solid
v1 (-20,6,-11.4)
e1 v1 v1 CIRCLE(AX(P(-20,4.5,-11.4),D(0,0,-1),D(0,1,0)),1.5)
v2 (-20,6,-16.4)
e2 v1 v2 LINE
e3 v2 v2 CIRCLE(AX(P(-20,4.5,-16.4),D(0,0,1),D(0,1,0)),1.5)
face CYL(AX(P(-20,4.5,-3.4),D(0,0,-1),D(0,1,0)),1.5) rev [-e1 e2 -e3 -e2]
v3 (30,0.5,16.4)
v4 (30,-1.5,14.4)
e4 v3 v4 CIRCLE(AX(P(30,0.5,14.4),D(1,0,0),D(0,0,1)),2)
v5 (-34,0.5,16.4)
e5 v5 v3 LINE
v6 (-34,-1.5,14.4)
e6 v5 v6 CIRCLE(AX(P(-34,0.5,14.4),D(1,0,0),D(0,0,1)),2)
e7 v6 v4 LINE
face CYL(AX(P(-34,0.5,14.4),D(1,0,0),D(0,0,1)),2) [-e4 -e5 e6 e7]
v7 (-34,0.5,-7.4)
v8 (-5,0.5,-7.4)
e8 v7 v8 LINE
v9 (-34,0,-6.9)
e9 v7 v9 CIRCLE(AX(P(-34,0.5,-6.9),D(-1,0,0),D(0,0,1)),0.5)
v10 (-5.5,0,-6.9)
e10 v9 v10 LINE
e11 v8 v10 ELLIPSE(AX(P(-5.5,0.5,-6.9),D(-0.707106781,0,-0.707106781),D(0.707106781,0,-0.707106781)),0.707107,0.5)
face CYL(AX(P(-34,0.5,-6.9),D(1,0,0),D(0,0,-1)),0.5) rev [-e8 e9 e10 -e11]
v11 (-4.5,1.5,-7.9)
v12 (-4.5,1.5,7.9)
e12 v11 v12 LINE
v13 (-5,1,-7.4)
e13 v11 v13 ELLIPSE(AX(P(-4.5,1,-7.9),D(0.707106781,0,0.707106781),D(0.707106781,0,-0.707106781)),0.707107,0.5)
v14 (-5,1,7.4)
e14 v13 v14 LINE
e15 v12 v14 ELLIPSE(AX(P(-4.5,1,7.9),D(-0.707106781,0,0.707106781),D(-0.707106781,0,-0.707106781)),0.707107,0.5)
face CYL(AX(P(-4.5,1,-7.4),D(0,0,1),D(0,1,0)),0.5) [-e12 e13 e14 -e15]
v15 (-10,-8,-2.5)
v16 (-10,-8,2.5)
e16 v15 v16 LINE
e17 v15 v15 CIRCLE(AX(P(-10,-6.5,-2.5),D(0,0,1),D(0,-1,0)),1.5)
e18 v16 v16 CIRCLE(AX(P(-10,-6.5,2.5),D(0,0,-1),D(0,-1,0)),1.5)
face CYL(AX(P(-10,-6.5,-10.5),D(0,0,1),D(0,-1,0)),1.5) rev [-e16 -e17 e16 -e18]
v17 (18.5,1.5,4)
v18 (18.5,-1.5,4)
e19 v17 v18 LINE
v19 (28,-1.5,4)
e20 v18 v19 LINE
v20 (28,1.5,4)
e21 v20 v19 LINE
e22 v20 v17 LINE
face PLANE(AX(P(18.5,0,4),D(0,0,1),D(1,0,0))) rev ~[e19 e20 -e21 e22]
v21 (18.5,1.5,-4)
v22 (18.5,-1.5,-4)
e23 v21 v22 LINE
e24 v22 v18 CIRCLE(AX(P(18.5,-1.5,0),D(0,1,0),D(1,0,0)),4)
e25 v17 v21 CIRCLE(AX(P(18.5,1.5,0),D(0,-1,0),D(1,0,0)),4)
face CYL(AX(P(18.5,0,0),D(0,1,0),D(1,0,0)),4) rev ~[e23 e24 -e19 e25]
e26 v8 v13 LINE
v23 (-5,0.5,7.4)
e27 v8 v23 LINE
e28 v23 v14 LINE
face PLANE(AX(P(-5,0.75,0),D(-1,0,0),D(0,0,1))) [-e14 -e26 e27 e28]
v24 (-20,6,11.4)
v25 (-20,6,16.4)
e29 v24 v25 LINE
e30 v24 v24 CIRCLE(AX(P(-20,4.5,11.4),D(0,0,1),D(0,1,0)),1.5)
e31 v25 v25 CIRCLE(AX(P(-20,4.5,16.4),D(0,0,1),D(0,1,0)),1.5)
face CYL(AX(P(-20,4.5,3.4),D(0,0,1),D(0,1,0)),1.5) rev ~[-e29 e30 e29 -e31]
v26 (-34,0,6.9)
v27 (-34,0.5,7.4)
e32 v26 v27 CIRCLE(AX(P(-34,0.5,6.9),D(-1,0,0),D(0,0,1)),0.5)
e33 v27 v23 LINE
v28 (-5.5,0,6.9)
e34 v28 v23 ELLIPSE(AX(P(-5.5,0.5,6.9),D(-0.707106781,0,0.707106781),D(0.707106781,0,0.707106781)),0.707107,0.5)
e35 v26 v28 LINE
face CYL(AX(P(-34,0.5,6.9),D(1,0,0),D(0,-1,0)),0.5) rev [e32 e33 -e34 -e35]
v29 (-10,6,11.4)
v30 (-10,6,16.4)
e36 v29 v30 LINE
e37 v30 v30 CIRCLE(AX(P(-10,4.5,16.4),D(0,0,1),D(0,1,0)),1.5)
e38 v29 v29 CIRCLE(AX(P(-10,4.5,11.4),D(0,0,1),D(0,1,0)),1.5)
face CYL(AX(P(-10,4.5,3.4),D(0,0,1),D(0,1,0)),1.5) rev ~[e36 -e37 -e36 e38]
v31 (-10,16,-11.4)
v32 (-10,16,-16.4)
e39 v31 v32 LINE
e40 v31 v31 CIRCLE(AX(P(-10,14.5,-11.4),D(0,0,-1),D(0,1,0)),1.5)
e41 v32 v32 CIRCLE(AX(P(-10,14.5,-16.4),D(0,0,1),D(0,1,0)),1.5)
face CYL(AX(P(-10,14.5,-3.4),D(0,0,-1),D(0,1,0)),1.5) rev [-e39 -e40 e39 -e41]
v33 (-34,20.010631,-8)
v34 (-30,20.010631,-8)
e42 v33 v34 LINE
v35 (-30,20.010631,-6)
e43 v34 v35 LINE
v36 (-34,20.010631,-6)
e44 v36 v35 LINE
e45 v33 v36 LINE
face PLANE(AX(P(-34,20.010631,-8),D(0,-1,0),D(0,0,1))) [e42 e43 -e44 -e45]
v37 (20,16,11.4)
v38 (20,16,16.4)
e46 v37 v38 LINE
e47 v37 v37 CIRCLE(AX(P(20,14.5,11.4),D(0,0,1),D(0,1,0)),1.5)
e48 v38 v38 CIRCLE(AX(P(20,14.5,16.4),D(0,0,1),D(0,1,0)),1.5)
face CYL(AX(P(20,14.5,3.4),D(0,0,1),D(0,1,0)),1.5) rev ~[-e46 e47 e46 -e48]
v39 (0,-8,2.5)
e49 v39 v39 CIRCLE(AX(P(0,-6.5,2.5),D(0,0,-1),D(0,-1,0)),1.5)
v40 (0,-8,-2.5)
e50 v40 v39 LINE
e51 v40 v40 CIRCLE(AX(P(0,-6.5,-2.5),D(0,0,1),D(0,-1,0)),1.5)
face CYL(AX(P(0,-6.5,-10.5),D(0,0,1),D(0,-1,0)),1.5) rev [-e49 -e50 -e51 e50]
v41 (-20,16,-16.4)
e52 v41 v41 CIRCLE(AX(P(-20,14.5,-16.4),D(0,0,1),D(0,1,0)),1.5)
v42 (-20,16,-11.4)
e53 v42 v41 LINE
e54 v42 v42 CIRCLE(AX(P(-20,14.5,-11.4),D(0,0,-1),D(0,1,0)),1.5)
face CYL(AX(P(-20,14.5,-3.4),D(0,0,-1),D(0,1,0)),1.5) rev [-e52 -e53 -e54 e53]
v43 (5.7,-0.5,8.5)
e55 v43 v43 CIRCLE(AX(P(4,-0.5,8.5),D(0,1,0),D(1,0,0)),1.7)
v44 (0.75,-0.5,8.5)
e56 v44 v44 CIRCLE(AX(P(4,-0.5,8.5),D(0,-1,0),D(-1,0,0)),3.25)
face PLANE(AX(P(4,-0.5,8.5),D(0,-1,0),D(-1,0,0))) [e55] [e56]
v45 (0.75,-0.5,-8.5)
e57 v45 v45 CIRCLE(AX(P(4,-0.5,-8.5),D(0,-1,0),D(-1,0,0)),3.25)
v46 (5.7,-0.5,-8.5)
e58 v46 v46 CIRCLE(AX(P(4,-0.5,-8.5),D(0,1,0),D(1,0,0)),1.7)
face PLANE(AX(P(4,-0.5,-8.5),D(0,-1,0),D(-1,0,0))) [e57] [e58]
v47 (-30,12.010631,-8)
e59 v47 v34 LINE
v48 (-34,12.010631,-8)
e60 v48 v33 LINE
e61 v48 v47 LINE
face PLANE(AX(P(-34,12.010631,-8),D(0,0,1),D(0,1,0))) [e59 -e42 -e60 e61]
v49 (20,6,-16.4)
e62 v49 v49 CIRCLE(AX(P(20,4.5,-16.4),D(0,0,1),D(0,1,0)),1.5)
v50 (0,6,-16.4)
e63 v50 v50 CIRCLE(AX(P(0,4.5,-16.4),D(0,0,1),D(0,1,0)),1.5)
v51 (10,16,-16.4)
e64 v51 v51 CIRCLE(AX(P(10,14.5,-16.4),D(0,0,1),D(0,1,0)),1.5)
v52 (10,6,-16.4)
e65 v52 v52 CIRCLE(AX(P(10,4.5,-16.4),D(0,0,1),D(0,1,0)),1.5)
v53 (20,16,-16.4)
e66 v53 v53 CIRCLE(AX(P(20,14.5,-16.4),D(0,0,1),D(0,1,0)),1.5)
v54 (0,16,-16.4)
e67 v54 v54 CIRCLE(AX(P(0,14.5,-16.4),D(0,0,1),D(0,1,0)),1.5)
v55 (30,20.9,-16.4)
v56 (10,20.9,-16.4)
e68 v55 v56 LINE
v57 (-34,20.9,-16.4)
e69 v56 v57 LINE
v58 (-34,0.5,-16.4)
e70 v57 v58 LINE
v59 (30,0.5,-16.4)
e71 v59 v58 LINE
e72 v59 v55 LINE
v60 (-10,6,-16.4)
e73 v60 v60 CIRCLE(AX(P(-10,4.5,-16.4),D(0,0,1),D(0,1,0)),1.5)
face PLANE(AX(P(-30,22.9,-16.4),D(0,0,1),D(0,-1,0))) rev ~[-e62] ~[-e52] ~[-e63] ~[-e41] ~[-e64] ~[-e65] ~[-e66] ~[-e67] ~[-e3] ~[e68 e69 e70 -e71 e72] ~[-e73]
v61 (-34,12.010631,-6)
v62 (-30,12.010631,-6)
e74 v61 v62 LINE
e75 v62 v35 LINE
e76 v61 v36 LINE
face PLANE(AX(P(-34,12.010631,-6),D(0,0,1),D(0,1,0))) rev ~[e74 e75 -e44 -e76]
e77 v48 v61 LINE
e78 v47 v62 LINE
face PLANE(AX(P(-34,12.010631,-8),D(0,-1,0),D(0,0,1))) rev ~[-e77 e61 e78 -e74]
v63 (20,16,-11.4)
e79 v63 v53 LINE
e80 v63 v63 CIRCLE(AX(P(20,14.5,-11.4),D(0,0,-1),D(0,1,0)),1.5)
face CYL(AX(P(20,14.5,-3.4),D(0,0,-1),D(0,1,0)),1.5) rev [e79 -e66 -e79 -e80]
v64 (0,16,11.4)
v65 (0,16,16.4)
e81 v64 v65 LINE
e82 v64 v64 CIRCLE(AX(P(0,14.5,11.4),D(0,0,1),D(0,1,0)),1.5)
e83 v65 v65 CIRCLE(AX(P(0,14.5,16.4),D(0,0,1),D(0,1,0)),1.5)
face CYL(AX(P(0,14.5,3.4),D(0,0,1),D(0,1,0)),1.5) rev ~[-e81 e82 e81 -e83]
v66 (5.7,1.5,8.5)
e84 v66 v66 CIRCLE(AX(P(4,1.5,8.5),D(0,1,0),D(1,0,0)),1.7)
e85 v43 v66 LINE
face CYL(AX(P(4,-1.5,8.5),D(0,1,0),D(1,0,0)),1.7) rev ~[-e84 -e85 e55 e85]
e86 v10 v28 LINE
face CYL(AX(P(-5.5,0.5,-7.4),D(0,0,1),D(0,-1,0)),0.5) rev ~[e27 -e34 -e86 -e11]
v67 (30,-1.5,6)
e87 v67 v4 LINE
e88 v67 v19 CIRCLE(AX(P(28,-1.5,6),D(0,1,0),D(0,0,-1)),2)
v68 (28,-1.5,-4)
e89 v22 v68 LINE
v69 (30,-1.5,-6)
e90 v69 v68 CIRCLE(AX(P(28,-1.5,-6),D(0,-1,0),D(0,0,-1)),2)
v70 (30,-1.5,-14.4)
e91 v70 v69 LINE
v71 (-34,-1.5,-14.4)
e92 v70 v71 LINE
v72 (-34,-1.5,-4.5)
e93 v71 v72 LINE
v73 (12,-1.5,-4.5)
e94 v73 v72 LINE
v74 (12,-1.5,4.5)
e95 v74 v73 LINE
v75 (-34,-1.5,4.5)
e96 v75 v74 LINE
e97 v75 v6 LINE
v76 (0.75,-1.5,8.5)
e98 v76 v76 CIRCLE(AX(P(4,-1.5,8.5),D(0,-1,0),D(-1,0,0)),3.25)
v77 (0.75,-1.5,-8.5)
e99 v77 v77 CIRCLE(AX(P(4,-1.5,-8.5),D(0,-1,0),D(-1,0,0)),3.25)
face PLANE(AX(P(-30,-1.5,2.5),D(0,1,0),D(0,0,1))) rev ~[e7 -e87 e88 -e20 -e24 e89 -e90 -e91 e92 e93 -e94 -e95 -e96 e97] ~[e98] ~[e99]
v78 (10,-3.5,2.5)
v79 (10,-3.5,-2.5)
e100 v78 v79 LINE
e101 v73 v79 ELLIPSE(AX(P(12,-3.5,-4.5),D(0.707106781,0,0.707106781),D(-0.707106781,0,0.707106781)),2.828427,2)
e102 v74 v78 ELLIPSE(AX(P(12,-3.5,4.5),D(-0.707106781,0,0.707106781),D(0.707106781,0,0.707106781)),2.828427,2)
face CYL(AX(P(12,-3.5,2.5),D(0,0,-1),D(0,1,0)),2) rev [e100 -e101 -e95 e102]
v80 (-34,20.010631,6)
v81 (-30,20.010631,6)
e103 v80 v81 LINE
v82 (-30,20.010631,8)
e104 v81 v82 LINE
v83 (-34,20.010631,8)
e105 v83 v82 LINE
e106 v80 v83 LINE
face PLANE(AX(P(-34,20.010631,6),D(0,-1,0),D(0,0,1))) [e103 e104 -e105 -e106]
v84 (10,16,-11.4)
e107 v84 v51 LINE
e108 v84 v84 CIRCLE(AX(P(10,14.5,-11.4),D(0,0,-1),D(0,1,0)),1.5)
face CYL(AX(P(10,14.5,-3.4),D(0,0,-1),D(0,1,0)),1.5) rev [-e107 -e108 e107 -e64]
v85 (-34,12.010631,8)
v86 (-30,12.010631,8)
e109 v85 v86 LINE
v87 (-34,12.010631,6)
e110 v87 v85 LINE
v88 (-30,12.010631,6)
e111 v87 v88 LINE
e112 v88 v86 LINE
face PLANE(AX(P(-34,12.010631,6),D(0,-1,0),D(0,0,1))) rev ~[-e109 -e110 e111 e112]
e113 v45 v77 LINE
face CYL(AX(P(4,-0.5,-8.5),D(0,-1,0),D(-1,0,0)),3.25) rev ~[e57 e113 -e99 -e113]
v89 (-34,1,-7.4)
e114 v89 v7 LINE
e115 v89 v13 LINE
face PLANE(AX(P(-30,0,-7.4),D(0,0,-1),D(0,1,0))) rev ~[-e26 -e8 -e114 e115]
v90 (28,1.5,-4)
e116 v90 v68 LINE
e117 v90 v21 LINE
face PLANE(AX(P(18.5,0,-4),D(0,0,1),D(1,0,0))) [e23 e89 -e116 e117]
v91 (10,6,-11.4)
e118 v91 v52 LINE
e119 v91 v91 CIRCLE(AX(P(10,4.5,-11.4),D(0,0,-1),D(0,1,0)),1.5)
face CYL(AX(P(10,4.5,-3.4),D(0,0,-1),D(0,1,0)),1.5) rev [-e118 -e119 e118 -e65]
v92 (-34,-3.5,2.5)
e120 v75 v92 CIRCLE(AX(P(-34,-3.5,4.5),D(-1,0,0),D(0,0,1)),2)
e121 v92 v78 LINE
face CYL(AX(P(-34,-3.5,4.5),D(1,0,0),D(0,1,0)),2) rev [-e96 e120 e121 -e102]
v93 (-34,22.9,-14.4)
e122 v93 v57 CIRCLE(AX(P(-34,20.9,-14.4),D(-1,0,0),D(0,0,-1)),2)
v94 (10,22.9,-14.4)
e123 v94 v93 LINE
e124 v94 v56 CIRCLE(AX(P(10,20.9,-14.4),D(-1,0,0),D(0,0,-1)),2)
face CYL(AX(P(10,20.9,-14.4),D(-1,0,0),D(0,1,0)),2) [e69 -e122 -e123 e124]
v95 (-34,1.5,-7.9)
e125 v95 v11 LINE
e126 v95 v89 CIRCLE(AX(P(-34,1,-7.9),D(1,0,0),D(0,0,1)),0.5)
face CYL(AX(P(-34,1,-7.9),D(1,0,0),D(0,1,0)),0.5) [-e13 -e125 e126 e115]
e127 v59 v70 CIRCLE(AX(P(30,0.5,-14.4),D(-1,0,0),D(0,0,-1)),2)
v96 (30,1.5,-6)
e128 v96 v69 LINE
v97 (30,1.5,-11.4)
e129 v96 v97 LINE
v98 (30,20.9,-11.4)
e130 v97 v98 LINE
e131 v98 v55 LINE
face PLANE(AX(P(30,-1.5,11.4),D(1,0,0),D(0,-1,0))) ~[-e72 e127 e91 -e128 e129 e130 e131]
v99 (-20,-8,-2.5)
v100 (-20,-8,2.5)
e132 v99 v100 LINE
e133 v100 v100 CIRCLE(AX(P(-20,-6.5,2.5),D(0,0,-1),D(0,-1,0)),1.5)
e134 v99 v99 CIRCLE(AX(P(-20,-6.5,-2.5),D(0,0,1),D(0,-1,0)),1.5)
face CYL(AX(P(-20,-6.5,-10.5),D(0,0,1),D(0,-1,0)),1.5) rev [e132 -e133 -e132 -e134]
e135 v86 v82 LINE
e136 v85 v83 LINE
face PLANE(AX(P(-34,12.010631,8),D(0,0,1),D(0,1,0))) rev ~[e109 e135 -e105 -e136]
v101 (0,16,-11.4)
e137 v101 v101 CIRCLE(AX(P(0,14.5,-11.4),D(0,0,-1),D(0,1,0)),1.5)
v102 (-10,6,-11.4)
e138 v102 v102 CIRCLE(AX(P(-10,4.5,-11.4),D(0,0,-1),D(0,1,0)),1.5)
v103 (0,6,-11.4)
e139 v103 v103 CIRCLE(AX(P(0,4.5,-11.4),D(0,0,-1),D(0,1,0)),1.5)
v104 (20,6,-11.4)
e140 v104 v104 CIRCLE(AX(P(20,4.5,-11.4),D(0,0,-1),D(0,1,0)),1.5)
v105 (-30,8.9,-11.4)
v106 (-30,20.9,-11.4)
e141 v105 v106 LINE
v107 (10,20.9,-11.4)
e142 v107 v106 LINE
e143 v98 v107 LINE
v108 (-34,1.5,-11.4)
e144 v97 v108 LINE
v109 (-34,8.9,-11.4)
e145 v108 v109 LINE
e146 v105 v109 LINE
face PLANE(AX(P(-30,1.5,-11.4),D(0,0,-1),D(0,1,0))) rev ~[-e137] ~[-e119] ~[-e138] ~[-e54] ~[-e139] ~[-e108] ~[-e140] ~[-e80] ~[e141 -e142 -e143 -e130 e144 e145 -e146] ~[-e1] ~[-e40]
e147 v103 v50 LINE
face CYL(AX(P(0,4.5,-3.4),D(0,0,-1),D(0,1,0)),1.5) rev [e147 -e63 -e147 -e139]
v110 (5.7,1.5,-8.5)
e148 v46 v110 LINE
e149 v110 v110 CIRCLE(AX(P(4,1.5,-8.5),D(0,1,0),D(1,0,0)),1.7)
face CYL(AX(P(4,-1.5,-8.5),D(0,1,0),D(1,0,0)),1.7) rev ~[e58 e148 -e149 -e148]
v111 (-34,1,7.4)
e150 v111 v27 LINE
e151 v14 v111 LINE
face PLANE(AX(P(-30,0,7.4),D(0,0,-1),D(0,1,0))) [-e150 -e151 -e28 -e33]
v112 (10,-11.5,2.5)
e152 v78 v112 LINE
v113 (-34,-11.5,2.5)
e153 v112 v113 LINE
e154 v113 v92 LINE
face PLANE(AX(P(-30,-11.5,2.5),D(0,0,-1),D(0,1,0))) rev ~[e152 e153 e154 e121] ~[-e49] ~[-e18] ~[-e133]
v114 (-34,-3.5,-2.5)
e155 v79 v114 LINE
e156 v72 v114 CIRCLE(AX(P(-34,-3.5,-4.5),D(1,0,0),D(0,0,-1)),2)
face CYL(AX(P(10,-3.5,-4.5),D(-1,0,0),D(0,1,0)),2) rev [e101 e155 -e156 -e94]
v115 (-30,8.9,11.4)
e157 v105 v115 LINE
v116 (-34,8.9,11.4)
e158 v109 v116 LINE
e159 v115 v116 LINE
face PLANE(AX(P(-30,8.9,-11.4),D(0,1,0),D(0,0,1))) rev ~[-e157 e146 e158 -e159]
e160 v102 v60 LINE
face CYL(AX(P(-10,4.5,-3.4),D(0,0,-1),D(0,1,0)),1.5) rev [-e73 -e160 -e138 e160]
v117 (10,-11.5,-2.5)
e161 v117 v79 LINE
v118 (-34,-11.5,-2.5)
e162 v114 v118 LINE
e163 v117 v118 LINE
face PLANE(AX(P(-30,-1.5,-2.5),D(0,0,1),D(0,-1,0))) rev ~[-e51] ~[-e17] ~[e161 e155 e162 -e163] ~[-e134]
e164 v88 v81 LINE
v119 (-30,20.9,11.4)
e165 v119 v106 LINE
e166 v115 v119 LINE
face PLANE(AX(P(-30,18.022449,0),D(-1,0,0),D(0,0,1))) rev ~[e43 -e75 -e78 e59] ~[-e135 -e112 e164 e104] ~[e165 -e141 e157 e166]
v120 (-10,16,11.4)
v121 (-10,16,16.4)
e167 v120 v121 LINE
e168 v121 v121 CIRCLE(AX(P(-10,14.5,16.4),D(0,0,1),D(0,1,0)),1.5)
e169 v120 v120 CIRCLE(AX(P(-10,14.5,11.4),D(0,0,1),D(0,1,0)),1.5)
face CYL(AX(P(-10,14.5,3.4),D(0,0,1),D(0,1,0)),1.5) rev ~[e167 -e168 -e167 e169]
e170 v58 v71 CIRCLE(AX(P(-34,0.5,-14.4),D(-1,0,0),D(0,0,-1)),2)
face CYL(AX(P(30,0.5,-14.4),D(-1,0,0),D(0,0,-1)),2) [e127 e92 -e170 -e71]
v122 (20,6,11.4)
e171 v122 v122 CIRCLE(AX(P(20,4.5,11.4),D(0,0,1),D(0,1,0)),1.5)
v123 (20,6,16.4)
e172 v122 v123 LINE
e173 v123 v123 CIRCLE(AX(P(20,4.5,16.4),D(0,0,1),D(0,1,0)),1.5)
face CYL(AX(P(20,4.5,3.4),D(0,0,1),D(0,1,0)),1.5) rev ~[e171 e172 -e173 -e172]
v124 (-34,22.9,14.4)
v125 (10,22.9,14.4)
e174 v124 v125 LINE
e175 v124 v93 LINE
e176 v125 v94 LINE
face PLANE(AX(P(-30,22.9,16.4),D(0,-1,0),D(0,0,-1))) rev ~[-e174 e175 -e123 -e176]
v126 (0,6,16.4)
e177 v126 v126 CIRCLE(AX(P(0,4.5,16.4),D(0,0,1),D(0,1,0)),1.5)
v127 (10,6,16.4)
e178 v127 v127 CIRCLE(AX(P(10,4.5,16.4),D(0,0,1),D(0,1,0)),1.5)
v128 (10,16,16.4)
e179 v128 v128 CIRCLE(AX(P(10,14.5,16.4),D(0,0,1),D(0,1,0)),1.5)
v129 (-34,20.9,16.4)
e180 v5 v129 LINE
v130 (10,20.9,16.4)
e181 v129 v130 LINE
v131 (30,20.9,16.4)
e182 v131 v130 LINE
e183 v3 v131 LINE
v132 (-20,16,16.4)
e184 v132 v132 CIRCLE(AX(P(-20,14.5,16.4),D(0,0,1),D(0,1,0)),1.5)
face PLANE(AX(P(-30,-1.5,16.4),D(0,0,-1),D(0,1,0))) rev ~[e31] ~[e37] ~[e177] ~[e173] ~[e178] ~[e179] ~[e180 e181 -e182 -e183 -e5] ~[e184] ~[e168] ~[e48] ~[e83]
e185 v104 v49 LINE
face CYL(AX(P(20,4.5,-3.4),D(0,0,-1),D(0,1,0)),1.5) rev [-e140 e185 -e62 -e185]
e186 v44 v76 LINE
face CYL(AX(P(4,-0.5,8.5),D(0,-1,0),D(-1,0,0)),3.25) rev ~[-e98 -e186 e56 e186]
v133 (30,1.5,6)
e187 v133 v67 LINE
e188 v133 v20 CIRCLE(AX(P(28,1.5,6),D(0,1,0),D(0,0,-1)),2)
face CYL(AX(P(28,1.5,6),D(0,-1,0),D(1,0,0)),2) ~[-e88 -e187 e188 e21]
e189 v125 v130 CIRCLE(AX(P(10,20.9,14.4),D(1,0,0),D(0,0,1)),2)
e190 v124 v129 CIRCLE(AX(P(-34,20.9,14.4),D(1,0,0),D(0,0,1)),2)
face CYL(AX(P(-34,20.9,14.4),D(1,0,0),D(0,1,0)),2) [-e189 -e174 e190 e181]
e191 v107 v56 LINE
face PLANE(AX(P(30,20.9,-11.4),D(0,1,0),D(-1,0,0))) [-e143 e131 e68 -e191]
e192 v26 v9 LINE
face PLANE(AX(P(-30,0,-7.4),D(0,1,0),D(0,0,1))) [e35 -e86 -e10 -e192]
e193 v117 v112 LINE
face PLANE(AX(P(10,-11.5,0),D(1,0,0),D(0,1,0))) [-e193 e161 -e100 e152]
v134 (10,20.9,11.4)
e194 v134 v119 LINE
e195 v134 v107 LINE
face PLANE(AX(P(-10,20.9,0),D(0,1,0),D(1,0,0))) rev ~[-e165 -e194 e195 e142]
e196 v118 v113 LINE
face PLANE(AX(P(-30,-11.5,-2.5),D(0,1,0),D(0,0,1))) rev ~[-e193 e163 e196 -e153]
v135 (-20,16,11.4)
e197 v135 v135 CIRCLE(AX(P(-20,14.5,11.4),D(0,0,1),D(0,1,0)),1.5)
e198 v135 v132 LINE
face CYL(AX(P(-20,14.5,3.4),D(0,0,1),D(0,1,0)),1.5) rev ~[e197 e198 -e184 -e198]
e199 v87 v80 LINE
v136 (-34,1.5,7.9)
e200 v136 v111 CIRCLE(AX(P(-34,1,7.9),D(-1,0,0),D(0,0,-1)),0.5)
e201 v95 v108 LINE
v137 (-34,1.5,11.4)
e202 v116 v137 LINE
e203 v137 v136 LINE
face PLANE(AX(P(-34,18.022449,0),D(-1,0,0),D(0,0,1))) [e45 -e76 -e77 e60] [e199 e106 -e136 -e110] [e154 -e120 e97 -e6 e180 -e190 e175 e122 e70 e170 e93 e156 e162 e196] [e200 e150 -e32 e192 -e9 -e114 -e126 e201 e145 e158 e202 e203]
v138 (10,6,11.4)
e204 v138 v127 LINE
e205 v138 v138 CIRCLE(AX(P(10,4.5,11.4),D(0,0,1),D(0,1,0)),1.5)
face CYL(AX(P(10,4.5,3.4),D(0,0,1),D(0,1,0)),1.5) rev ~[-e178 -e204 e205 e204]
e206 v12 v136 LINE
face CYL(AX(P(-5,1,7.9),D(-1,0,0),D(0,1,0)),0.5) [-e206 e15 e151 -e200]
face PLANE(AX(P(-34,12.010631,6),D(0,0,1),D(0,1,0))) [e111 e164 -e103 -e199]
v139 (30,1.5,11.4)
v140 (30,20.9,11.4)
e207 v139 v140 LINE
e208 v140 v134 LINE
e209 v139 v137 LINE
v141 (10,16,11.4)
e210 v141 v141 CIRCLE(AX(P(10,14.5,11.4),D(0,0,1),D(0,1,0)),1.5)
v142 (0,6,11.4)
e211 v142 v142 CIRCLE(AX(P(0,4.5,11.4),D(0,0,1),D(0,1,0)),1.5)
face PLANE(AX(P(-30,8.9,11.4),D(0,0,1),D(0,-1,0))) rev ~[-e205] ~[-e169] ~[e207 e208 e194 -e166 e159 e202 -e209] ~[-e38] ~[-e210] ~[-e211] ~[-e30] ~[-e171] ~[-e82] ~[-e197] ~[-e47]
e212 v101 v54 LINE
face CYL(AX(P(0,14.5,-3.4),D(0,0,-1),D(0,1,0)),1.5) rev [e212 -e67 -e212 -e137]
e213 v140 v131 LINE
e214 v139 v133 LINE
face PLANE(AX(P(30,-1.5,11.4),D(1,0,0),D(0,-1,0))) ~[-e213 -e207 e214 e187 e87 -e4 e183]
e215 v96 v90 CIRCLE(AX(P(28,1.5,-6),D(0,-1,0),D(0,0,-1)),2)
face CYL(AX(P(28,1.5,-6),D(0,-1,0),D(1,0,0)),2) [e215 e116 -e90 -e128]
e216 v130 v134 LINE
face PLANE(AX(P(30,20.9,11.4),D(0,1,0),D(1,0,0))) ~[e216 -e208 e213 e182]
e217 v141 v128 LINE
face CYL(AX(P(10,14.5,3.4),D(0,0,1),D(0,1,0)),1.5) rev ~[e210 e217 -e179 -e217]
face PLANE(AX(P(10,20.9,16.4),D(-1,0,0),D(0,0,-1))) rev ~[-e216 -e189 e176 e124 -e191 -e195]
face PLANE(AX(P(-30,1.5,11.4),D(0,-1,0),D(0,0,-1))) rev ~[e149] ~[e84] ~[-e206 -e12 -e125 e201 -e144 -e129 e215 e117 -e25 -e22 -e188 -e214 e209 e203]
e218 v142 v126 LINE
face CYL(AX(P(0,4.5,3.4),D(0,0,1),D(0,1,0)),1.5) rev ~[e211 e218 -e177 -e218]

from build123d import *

# Parameters (mm, degrees)
ESQUISSE1_W                                       = 60
ESQUISSE1_H                                       = 22.8
BOSS_EXTRU_1_DEPTH                                = 1.5
ESQUISSE2_W                                       = 60
ESQUISSE2_H                                       = 5
BOSS_EXTRU_2_DEPTH                                = 10
ESQUISSE7_W                                       = 60
ESQUISSE7_H                                       = 22.4
BOSS_EXTRU_3_DEPTH                                = 5
DIAM_TRE_DU_PER_AGE_3_0_3_2_AT_2_COUNT            = 2
DIAM_TRE_DU_PER_AGE_3_0_3_2_AT_2_PITCH            = 10
DIAM_TRE_DU_PER_AGE_3_0_3_2_AT_3_COUNT            = 2
DIAM_TRE_DU_PER_AGE_3_0_3_2_AT_3_PITCH            = 20
DIAM_TRE_DU_PER_AGE_3_0_3_2_AT_4_COUNT            = 2
DIAM_TRE_DU_PER_AGE_3_0_3_2_AT_4_PITCH            = 30
DIAM_TRE_DU_PER_AGE_3_0_3_2_AT_5_COUNT            = 2
DIAM_TRE_DU_PER_AGE_3_0_3_2_AT_5_PITCH            = 40
R_P_TITION_LIN_AIRE2_COUNT                        = 2
R_P_TITION_LIN_AIRE2_PITCH                        = 10
CHAMBRAGE_POUR_VIS_SIX_PANS_CREUX_M31_D           = 3.4
CHAMBRAGE_POUR_VIS_SIX_PANS_CREUX_M31_DEPTH       = 13
CHAMBRAGE_POUR_VIS_SIX_PANS_CREUX_M31_CBORE_D     = 6.5
CHAMBRAGE_POUR_VIS_SIX_PANS_CREUX_M31_CBORE_DEPTH = 1
CHAMBRAGE_POUR_VIS_SIX_PANS_CREUX_M31_TIP         = 1.021463052
R_P_TITION_LIN_AIRE1_COUNT                        = 3
R_P_TITION_LIN_AIRE1_PITCH                        = 10
ESQUISSE10_W                                      = 40
ESQUISSE10_H                                      = 32.8
BOSS_EXTRU_4_DEPTH                                = 2
ESQUISSE11_W                                      = 20
ESQUISSE11_H                                      = 10
ENL_V_MAT_EXTRU_1_DEPTH                           = 17.4
ENL_V_MAT_EXTRU_1_DEPTH_BACK                      = 17.4
ESQUISSE12_R                                      = 4
ESQUISSE12_W                                      = 11.5
ESQUISSE12_H                                      = 8
ENL_V_MAT_EXTRU_2_DEPTH                           = 23.9
ENL_V_MAT_EXTRU_2_DEPTH_BACK                      = 12.5
BOSS_EXTRU_5_DEPTH                                = 4
ESQUISSE14_W                                      = 2
ESQUISSE14_H                                      = 8
ENL_V_MAT_EXTRU_3_DEPTH                           = 1
ENL_V_MAT_EXTRU_3_DEPTH_BACK                      = 65
CONG_2_R                                          = 2
ESQUISSE15_W                                      = 14.8
ESQUISSE15_H                                      = 1.5
ENL_V_MAT_EXTRU_4_DEPTH                           = 5
ENL_V_MAT_EXTRU_4_DEPTH_BACK                      = 25
CONG_3_R                                          = 0.5


with BuildPart() as part:
    # Esquisse1 → Boss.-Extru.1 (new body, symmetric)
    with BuildSketch(Plane(origin=(0, 0, 0), x_dir=(1, 0, 0), z_dir=(0, 1, 0))):
        Rectangle(ESQUISSE1_W, ESQUISSE1_H)
    extrude(amount=BOSS_EXTRU_1_DEPTH, both=True)

    # Esquisse2 → Boss.-Extru.2 (add)
    with BuildSketch(Plane.XZ.offset(1.5)):
        Rectangle(ESQUISSE2_W, ESQUISSE2_H)
    extrude(amount=BOSS_EXTRU_2_DEPTH)

    # Esquisse7 → Boss.-Extru.3 (add)
    with BuildSketch(Plane(origin=(0, 0, -11.4), x_dir=(-1, 0, 0), z_dir=(0, 0, -1))):
        with Locations((0, 9.7)):
            Rectangle(ESQUISSE7_W, ESQUISSE7_H)
    boss_extru_3 = extrude(amount=BOSS_EXTRU_3_DEPTH)

    # Esquisse9 → Diamètre du perçage Ø3.0 (3)2 (revolve, cut)
    with BuildSketch(Plane(origin=(20, 4.5, -16.4), x_dir=(0, 1, 0), z_dir=(1, 0, 0))):
        Polygon((0, 0), (0, 13.901290929), (1.5, 13), (1.5, 0), align=None)
    diam_tre_du_per_age_3_0_3_2 = revolve(axis=Axis((20, 4.5, -22.75), (0, 0, 1)), mode=Mode.SUBTRACT)

    # Diamètre du perçage Ø3.0 (3)2 at 2: Diamètre du perçage Ø3.0 (3)2 ×2
    with Locations(*[(-i * DIAM_TRE_DU_PER_AGE_3_0_3_2_AT_2_PITCH, 0, 0) for i in range(1, DIAM_TRE_DU_PER_AGE_3_0_3_2_AT_2_COUNT)]):
        add(diam_tre_du_per_age_3_0_3_2, mode=Mode.SUBTRACT)

    # Diamètre du perçage Ø3.0 (3)2 at 3: Diamètre du perçage Ø3.0 (3)2 ×2
    with Locations(*[(-i * DIAM_TRE_DU_PER_AGE_3_0_3_2_AT_3_PITCH, 0, 0) for i in range(1, DIAM_TRE_DU_PER_AGE_3_0_3_2_AT_3_COUNT)]):
        add(diam_tre_du_per_age_3_0_3_2, mode=Mode.SUBTRACT)

    # Diamètre du perçage Ø3.0 (3)2 at 4: Diamètre du perçage Ø3.0 (3)2 ×2
    with Locations(*[(-i * DIAM_TRE_DU_PER_AGE_3_0_3_2_AT_4_PITCH, 0, 0) for i in range(1, DIAM_TRE_DU_PER_AGE_3_0_3_2_AT_4_COUNT)]):
        add(diam_tre_du_per_age_3_0_3_2, mode=Mode.SUBTRACT)

    # Diamètre du perçage Ø3.0 (3)2 at 5: Diamètre du perçage Ø3.0 (3)2 ×2
    with Locations(*[(-i * DIAM_TRE_DU_PER_AGE_3_0_3_2_AT_5_PITCH, 0, 0) for i in range(1, DIAM_TRE_DU_PER_AGE_3_0_3_2_AT_5_COUNT)]):
        add(diam_tre_du_per_age_3_0_3_2, mode=Mode.SUBTRACT)

    # Répétition linéaire2: Diamètre du perçage Ø3.0 (3)2 ×2
    with Locations(*[(0, i * R_P_TITION_LIN_AIRE2_PITCH, 0) for i in range(1, R_P_TITION_LIN_AIRE2_COUNT)]):
        add(diam_tre_du_per_age_3_0_3_2, mode=Mode.SUBTRACT)

    # Répétition linéaire2 copy 1 sketch → Répétition linéaire2 copy 1 (revolve, cut)
    with BuildSketch(Plane(origin=(10, 14.5, -16.4), x_dir=(0, 1, 0), z_dir=(1, 0, 0))):
        Polygon((0, 0), (0, 13.901290929), (1.5, 13), (1.5, 0), align=None)
    revolve(axis=Axis((10, 14.5, -22.75), (0, 0, 1)), mode=Mode.SUBTRACT)

    # Répétition linéaire2 copy 2 sketch → Répétition linéaire2 copy 2 (revolve, cut)
    with BuildSketch(Plane(origin=(0, 14.5, -16.4), x_dir=(0, 1, 0), z_dir=(1, 0, 0))):
        Polygon((0, 0), (0, 13.901290929), (1.5, 13), (1.5, 0), align=None)
    revolve(axis=Axis((0, 14.5, -22.75), (0, 0, 1)), mode=Mode.SUBTRACT)

    # Répétition linéaire2 copy 3 sketch → Répétition linéaire2 copy 3 (revolve, cut)
    with BuildSketch(Plane(origin=(-10, 14.5, -16.4), x_dir=(0, 1, 0), z_dir=(1, 0, 0))):
        Polygon((0, 0), (0, 13.901290929), (1.5, 13), (1.5, 0), align=None)
    revolve(axis=Axis((-10, 14.5, -22.75), (0, 0, 1)), mode=Mode.SUBTRACT)

    # Répétition linéaire2 copy 4 sketch → Répétition linéaire2 copy 4 (revolve, cut)
    with BuildSketch(Plane(origin=(-20, 14.5, -16.4), x_dir=(0, 1, 0), z_dir=(1, 0, 0))):
        Polygon((0, 0), (0, 13.901290929), (1.5, 13), (1.5, 0), align=None)
    revolve(axis=Axis((-20, 14.5, -22.75), (0, 0, 1)), mode=Mode.SUBTRACT)

    # Symétrie1: Boss.-Extru.3, Diamètre du perçage Ø3.0 (3)2 across plane
    add(boss_extru_3.mirror(Plane.XY))
    add(diam_tre_du_per_age_3_0_3_2.mirror(Plane.XY), mode=Mode.SUBTRACT)

    # Symétrie1 copy 1 sketch → Symétrie1 copy 1 (revolve, cut)
    with BuildSketch(Plane(origin=(20, 14.5, 16.4), x_dir=(0, 1, 0), z_dir=(1, 0, 0))):
        Polygon((0, 0), (0, -13.901290929), (1.5, -13), (1.5, 0), align=None)
    revolve(axis=Axis((20, 14.5, 22.75), (0, 0, 1)), mode=Mode.SUBTRACT)

    # Symétrie1 copy 2 sketch → Symétrie1 copy 2 (revolve, cut)
    with BuildSketch(Plane(origin=(10, 14.5, 16.4), x_dir=(0, 1, 0), z_dir=(1, 0, 0))):
        Polygon((0, 0), (0, -13.901290929), (1.5, -13), (1.5, 0), align=None)
    revolve(axis=Axis((10, 14.5, 22.75), (0, 0, 1)), mode=Mode.SUBTRACT)

    # Symétrie1 copy 3 sketch → Symétrie1 copy 3 (revolve, cut)
    with BuildSketch(Plane(origin=(0, 14.5, 16.4), x_dir=(0, 1, 0), z_dir=(1, 0, 0))):
        Polygon((0, 0), (0, -13.901290929), (1.5, -13), (1.5, 0), align=None)
    revolve(axis=Axis((0, 14.5, 22.75), (0, 0, 1)), mode=Mode.SUBTRACT)

    # Symétrie1 copy 4 sketch → Symétrie1 copy 4 (revolve, cut)
    with BuildSketch(Plane(origin=(-10, 14.5, 16.4), x_dir=(0, 1, 0), z_dir=(1, 0, 0))):
        Polygon((0, 0), (0, -13.901290929), (1.5, -13), (1.5, 0), align=None)
    revolve(axis=Axis((-10, 14.5, 22.75), (0, 0, 1)), mode=Mode.SUBTRACT)

    # Symétrie1 copy 5 sketch → Symétrie1 copy 5 (revolve, cut)
    with BuildSketch(Plane(origin=(-20, 14.5, 16.4), x_dir=(0, 1, 0), z_dir=(1, 0, 0))):
        Polygon((0, 0), (0, -13.901290929), (1.5, -13), (1.5, 0), align=None)
    revolve(axis=Axis((-20, 14.5, 22.75), (0, 0, 1)), mode=Mode.SUBTRACT)

    # Symétrie1 copy 6 sketch → Symétrie1 copy 6 (revolve, cut)
    with BuildSketch(Plane(origin=(10, 4.5, 16.4), x_dir=(0, 1, 0), z_dir=(1, 0, 0))):
        Polygon((0, 0), (0, -13.901290929), (1.5, -13), (1.5, 0), align=None)
    revolve(axis=Axis((10, 4.5, 22.75), (0, 0, 1)), mode=Mode.SUBTRACT)

    # Symétrie1 copy 7 sketch → Symétrie1 copy 7 (revolve, cut)
    with BuildSketch(Plane(origin=(0, 4.5, 16.4), x_dir=(0, 1, 0), z_dir=(1, 0, 0))):
        Polygon((0, 0), (0, -13.901290929), (1.5, -13), (1.5, 0), align=None)
    revolve(axis=Axis((0, 4.5, 22.75), (0, 0, 1)), mode=Mode.SUBTRACT)

    # Symétrie1 copy 8 sketch → Symétrie1 copy 8 (revolve, cut)
    with BuildSketch(Plane(origin=(-10, 4.5, 16.4), x_dir=(0, 1, 0), z_dir=(1, 0, 0))):
        Polygon((0, 0), (0, -13.901290929), (1.5, -13), (1.5, 0), align=None)
    revolve(axis=Axis((-10, 4.5, 22.75), (0, 0, 1)), mode=Mode.SUBTRACT)

    # Symétrie1 copy 9 sketch → Symétrie1 copy 9 (revolve, cut)
    with BuildSketch(Plane(origin=(-20, 4.5, 16.4), x_dir=(0, 1, 0), z_dir=(1, 0, 0))):
        Polygon((0, 0), (0, -13.901290929), (1.5, -13), (1.5, 0), align=None)
    revolve(axis=Axis((-20, 4.5, 22.75), (0, 0, 1)), mode=Mode.SUBTRACT)

    # Esquisse4 → Diamètre du perçage Ø3.0 (3)1 (revolve, cut)
    with BuildSketch(Plane(origin=(-20, -6.5, 2.5), x_dir=(0, -1, 0), z_dir=(1, 0, 0))):
        Polygon((0, 0), (0, 13.901290929), (1.5, 13), (1.5, 0), align=None)
    diam_tre_du_per_age_3_0_3_1 = revolve(axis=Axis((-20, -6.5, 8.85), (0, 0, -1)), mode=Mode.SUBTRACT)

    # Chambrage pour vis à six pans creux M31
    with Locations(Plane(origin=(0, -1.5, 0), x_dir=(-1, 0, 0), z_dir=(0, -1, 0))):
        with Locations((-4, 8.5), (-4, -8.5)):
            CounterBoreHole(CHAMBRAGE_POUR_VIS_SIX_PANS_CREUX_M31_D / 2, CHAMBRAGE_POUR_VIS_SIX_PANS_CREUX_M31_CBORE_D / 2, CHAMBRAGE_POUR_VIS_SIX_PANS_CREUX_M31_CBORE_DEPTH, depth=CHAMBRAGE_POUR_VIS_SIX_PANS_CREUX_M31_DEPTH)
            with Locations((0, 0, -(CHAMBRAGE_POUR_VIS_SIX_PANS_CREUX_M31_DEPTH + CHAMBRAGE_POUR_VIS_SIX_PANS_CREUX_M31_TIP / 2))):  # 118° drill point
                Cone(0, CHAMBRAGE_POUR_VIS_SIX_PANS_CREUX_M31_D / 2, CHAMBRAGE_POUR_VIS_SIX_PANS_CREUX_M31_TIP, mode=Mode.SUBTRACT)

    # Répétition linéaire1: Diamètre du perçage Ø3.0 (3)1 ×3
    with Locations(*[(i * R_P_TITION_LIN_AIRE1_PITCH, 0, 0) for i in range(1, R_P_TITION_LIN_AIRE1_COUNT)]):
        add(diam_tre_du_per_age_3_0_3_1, mode=Mode.SUBTRACT)

    # Esquisse10 → Boss.-Extru.4 (add)
    with BuildSketch(Plane(origin=(0, 20.9, 0), x_dir=(1, 0, 0), z_dir=(0, 1, 0))):
        with Locations((-10, 0)):
            Rectangle(ESQUISSE10_W, ESQUISSE10_H)
    extrude(amount=BOSS_EXTRU_4_DEPTH)

    # Esquisse11 → Enlèv. mat.-Extru.1 (cut, two sides)
    with BuildSketch(Plane.XY) as enl_v_mat_extru_1_sk:
        with Locations((20, -6.5)):
            Rectangle(ESQUISSE11_W, ESQUISSE11_H)
    extrude(amount=ENL_V_MAT_EXTRU_1_DEPTH, mode=Mode.SUBTRACT)
    extrude(enl_v_mat_extru_1_sk.sketch, amount=-ENL_V_MAT_EXTRU_1_DEPTH_BACK, mode=Mode.SUBTRACT)

    # Esquisse12 → Enlèv. mat.-Extru.2 (cut, two sides)
    with BuildSketch(Plane(origin=(0, 0, 0), x_dir=(1, 0, 0), z_dir=(0, 1, 0))) as enl_v_mat_extru_2_sk:
        with Locations((18.5, 0)):
            Circle(ESQUISSE12_R)
        with Locations((24.25, 0)):
            Rectangle(ESQUISSE12_W, ESQUISSE12_H)
    extrude(amount=ENL_V_MAT_EXTRU_2_DEPTH, mode=Mode.SUBTRACT)
    extrude(enl_v_mat_extru_2_sk.sketch, amount=-ENL_V_MAT_EXTRU_2_DEPTH_BACK, mode=Mode.SUBTRACT)

    # Esquisse13 → Boss.-Extru.5 (add)
    with BuildSketch(Plane.ZY.offset(30)):
        Polygon((16.4, 22.9), (-16.4, 22.9), (-16.4, 8.9), (-11.4, 8.9), (-11.4, 20.9), (11.4, 20.9), (11.4, 8.9), (16.4, 8.9), align=None)
        Polygon((-11.4, 20.9), (-11.4, 8.9), (11.359705281, 8.9), (11.4, 8.9), (11.4, 20.9), align=None)
        Polygon((-11.4, 8.9), (-16.4, 8.9), (-16.4, -1.5), (-2.5, -1.5), (-2.5, -11.5), (2.5, -11.5), (2.5, -1.5), (16.4, -1.5), (16.4, 8.9), (11.4, 8.9), (11.4, 1.5), (-11.4, 1.5), align=None)
    extrude(amount=BOSS_EXTRU_5_DEPTH)

    # Esquisse14 → Enlèv. mat.-Extru.3 (cut, two sides)
    with BuildSketch(Plane.ZY.offset(34)) as enl_v_mat_extru_3_sk:
        with Locations((7, 16.010631071)):
            Rectangle(ESQUISSE14_W, ESQUISSE14_H)
        with Locations((-7, 16.010631071)):
            Rectangle(ESQUISSE14_W, ESQUISSE14_H)
    extrude(amount=ENL_V_MAT_EXTRU_3_DEPTH, mode=Mode.SUBTRACT)
    extrude(enl_v_mat_extru_3_sk.sketch, amount=-ENL_V_MAT_EXTRU_3_DEPTH_BACK, mode=Mode.SUBTRACT)

    # Congé2
    cong_2_edges = [part.edges().sort_by_distance(p)[0] for p in [
        (-12, -1.5, -2.5),
        (-12, 22.9, 16.4),
        (-12, 22.9, -16.4),
        (-12, -1.5, 2.5),
        (10, -1.5, 0),
        (30, 0, -4),
        (30, 0, 4),
        (-2, -1.5, -16.4),
        (-2, -1.5, 16.4),
    ]]
    fillet(cong_2_edges, radius=CONG_2_R)

    # Esquisse15 → Enlèv. mat.-Extru.4 (cut, two sides)
    with BuildSketch(Plane.ZY.offset(30)) as enl_v_mat_extru_4_sk:
        with Locations((0, 0.75)):
            Rectangle(ESQUISSE15_W, ESQUISSE15_H)
    extrude(amount=ENL_V_MAT_EXTRU_4_DEPTH, mode=Mode.SUBTRACT)
    extrude(enl_v_mat_extru_4_sk.sketch, amount=-ENL_V_MAT_EXTRU_4_DEPTH_BACK, mode=Mode.SUBTRACT)

    # Congé3
    cong_3_edges = [part.edges().sort_by_distance(p)[0] for p in [
        (-19.5, 1.5, -7.4),
        (-19.5, 0, -7.4),
        (-5, 0, 0),
        (-19.5, 0, 7.4),
        (-19.5, 1.5, 7.4),
        (-5, 1.5, 0),
    ]]
    fillet(cong_3_edges, radius=CONG_3_R)


solid = part.part
